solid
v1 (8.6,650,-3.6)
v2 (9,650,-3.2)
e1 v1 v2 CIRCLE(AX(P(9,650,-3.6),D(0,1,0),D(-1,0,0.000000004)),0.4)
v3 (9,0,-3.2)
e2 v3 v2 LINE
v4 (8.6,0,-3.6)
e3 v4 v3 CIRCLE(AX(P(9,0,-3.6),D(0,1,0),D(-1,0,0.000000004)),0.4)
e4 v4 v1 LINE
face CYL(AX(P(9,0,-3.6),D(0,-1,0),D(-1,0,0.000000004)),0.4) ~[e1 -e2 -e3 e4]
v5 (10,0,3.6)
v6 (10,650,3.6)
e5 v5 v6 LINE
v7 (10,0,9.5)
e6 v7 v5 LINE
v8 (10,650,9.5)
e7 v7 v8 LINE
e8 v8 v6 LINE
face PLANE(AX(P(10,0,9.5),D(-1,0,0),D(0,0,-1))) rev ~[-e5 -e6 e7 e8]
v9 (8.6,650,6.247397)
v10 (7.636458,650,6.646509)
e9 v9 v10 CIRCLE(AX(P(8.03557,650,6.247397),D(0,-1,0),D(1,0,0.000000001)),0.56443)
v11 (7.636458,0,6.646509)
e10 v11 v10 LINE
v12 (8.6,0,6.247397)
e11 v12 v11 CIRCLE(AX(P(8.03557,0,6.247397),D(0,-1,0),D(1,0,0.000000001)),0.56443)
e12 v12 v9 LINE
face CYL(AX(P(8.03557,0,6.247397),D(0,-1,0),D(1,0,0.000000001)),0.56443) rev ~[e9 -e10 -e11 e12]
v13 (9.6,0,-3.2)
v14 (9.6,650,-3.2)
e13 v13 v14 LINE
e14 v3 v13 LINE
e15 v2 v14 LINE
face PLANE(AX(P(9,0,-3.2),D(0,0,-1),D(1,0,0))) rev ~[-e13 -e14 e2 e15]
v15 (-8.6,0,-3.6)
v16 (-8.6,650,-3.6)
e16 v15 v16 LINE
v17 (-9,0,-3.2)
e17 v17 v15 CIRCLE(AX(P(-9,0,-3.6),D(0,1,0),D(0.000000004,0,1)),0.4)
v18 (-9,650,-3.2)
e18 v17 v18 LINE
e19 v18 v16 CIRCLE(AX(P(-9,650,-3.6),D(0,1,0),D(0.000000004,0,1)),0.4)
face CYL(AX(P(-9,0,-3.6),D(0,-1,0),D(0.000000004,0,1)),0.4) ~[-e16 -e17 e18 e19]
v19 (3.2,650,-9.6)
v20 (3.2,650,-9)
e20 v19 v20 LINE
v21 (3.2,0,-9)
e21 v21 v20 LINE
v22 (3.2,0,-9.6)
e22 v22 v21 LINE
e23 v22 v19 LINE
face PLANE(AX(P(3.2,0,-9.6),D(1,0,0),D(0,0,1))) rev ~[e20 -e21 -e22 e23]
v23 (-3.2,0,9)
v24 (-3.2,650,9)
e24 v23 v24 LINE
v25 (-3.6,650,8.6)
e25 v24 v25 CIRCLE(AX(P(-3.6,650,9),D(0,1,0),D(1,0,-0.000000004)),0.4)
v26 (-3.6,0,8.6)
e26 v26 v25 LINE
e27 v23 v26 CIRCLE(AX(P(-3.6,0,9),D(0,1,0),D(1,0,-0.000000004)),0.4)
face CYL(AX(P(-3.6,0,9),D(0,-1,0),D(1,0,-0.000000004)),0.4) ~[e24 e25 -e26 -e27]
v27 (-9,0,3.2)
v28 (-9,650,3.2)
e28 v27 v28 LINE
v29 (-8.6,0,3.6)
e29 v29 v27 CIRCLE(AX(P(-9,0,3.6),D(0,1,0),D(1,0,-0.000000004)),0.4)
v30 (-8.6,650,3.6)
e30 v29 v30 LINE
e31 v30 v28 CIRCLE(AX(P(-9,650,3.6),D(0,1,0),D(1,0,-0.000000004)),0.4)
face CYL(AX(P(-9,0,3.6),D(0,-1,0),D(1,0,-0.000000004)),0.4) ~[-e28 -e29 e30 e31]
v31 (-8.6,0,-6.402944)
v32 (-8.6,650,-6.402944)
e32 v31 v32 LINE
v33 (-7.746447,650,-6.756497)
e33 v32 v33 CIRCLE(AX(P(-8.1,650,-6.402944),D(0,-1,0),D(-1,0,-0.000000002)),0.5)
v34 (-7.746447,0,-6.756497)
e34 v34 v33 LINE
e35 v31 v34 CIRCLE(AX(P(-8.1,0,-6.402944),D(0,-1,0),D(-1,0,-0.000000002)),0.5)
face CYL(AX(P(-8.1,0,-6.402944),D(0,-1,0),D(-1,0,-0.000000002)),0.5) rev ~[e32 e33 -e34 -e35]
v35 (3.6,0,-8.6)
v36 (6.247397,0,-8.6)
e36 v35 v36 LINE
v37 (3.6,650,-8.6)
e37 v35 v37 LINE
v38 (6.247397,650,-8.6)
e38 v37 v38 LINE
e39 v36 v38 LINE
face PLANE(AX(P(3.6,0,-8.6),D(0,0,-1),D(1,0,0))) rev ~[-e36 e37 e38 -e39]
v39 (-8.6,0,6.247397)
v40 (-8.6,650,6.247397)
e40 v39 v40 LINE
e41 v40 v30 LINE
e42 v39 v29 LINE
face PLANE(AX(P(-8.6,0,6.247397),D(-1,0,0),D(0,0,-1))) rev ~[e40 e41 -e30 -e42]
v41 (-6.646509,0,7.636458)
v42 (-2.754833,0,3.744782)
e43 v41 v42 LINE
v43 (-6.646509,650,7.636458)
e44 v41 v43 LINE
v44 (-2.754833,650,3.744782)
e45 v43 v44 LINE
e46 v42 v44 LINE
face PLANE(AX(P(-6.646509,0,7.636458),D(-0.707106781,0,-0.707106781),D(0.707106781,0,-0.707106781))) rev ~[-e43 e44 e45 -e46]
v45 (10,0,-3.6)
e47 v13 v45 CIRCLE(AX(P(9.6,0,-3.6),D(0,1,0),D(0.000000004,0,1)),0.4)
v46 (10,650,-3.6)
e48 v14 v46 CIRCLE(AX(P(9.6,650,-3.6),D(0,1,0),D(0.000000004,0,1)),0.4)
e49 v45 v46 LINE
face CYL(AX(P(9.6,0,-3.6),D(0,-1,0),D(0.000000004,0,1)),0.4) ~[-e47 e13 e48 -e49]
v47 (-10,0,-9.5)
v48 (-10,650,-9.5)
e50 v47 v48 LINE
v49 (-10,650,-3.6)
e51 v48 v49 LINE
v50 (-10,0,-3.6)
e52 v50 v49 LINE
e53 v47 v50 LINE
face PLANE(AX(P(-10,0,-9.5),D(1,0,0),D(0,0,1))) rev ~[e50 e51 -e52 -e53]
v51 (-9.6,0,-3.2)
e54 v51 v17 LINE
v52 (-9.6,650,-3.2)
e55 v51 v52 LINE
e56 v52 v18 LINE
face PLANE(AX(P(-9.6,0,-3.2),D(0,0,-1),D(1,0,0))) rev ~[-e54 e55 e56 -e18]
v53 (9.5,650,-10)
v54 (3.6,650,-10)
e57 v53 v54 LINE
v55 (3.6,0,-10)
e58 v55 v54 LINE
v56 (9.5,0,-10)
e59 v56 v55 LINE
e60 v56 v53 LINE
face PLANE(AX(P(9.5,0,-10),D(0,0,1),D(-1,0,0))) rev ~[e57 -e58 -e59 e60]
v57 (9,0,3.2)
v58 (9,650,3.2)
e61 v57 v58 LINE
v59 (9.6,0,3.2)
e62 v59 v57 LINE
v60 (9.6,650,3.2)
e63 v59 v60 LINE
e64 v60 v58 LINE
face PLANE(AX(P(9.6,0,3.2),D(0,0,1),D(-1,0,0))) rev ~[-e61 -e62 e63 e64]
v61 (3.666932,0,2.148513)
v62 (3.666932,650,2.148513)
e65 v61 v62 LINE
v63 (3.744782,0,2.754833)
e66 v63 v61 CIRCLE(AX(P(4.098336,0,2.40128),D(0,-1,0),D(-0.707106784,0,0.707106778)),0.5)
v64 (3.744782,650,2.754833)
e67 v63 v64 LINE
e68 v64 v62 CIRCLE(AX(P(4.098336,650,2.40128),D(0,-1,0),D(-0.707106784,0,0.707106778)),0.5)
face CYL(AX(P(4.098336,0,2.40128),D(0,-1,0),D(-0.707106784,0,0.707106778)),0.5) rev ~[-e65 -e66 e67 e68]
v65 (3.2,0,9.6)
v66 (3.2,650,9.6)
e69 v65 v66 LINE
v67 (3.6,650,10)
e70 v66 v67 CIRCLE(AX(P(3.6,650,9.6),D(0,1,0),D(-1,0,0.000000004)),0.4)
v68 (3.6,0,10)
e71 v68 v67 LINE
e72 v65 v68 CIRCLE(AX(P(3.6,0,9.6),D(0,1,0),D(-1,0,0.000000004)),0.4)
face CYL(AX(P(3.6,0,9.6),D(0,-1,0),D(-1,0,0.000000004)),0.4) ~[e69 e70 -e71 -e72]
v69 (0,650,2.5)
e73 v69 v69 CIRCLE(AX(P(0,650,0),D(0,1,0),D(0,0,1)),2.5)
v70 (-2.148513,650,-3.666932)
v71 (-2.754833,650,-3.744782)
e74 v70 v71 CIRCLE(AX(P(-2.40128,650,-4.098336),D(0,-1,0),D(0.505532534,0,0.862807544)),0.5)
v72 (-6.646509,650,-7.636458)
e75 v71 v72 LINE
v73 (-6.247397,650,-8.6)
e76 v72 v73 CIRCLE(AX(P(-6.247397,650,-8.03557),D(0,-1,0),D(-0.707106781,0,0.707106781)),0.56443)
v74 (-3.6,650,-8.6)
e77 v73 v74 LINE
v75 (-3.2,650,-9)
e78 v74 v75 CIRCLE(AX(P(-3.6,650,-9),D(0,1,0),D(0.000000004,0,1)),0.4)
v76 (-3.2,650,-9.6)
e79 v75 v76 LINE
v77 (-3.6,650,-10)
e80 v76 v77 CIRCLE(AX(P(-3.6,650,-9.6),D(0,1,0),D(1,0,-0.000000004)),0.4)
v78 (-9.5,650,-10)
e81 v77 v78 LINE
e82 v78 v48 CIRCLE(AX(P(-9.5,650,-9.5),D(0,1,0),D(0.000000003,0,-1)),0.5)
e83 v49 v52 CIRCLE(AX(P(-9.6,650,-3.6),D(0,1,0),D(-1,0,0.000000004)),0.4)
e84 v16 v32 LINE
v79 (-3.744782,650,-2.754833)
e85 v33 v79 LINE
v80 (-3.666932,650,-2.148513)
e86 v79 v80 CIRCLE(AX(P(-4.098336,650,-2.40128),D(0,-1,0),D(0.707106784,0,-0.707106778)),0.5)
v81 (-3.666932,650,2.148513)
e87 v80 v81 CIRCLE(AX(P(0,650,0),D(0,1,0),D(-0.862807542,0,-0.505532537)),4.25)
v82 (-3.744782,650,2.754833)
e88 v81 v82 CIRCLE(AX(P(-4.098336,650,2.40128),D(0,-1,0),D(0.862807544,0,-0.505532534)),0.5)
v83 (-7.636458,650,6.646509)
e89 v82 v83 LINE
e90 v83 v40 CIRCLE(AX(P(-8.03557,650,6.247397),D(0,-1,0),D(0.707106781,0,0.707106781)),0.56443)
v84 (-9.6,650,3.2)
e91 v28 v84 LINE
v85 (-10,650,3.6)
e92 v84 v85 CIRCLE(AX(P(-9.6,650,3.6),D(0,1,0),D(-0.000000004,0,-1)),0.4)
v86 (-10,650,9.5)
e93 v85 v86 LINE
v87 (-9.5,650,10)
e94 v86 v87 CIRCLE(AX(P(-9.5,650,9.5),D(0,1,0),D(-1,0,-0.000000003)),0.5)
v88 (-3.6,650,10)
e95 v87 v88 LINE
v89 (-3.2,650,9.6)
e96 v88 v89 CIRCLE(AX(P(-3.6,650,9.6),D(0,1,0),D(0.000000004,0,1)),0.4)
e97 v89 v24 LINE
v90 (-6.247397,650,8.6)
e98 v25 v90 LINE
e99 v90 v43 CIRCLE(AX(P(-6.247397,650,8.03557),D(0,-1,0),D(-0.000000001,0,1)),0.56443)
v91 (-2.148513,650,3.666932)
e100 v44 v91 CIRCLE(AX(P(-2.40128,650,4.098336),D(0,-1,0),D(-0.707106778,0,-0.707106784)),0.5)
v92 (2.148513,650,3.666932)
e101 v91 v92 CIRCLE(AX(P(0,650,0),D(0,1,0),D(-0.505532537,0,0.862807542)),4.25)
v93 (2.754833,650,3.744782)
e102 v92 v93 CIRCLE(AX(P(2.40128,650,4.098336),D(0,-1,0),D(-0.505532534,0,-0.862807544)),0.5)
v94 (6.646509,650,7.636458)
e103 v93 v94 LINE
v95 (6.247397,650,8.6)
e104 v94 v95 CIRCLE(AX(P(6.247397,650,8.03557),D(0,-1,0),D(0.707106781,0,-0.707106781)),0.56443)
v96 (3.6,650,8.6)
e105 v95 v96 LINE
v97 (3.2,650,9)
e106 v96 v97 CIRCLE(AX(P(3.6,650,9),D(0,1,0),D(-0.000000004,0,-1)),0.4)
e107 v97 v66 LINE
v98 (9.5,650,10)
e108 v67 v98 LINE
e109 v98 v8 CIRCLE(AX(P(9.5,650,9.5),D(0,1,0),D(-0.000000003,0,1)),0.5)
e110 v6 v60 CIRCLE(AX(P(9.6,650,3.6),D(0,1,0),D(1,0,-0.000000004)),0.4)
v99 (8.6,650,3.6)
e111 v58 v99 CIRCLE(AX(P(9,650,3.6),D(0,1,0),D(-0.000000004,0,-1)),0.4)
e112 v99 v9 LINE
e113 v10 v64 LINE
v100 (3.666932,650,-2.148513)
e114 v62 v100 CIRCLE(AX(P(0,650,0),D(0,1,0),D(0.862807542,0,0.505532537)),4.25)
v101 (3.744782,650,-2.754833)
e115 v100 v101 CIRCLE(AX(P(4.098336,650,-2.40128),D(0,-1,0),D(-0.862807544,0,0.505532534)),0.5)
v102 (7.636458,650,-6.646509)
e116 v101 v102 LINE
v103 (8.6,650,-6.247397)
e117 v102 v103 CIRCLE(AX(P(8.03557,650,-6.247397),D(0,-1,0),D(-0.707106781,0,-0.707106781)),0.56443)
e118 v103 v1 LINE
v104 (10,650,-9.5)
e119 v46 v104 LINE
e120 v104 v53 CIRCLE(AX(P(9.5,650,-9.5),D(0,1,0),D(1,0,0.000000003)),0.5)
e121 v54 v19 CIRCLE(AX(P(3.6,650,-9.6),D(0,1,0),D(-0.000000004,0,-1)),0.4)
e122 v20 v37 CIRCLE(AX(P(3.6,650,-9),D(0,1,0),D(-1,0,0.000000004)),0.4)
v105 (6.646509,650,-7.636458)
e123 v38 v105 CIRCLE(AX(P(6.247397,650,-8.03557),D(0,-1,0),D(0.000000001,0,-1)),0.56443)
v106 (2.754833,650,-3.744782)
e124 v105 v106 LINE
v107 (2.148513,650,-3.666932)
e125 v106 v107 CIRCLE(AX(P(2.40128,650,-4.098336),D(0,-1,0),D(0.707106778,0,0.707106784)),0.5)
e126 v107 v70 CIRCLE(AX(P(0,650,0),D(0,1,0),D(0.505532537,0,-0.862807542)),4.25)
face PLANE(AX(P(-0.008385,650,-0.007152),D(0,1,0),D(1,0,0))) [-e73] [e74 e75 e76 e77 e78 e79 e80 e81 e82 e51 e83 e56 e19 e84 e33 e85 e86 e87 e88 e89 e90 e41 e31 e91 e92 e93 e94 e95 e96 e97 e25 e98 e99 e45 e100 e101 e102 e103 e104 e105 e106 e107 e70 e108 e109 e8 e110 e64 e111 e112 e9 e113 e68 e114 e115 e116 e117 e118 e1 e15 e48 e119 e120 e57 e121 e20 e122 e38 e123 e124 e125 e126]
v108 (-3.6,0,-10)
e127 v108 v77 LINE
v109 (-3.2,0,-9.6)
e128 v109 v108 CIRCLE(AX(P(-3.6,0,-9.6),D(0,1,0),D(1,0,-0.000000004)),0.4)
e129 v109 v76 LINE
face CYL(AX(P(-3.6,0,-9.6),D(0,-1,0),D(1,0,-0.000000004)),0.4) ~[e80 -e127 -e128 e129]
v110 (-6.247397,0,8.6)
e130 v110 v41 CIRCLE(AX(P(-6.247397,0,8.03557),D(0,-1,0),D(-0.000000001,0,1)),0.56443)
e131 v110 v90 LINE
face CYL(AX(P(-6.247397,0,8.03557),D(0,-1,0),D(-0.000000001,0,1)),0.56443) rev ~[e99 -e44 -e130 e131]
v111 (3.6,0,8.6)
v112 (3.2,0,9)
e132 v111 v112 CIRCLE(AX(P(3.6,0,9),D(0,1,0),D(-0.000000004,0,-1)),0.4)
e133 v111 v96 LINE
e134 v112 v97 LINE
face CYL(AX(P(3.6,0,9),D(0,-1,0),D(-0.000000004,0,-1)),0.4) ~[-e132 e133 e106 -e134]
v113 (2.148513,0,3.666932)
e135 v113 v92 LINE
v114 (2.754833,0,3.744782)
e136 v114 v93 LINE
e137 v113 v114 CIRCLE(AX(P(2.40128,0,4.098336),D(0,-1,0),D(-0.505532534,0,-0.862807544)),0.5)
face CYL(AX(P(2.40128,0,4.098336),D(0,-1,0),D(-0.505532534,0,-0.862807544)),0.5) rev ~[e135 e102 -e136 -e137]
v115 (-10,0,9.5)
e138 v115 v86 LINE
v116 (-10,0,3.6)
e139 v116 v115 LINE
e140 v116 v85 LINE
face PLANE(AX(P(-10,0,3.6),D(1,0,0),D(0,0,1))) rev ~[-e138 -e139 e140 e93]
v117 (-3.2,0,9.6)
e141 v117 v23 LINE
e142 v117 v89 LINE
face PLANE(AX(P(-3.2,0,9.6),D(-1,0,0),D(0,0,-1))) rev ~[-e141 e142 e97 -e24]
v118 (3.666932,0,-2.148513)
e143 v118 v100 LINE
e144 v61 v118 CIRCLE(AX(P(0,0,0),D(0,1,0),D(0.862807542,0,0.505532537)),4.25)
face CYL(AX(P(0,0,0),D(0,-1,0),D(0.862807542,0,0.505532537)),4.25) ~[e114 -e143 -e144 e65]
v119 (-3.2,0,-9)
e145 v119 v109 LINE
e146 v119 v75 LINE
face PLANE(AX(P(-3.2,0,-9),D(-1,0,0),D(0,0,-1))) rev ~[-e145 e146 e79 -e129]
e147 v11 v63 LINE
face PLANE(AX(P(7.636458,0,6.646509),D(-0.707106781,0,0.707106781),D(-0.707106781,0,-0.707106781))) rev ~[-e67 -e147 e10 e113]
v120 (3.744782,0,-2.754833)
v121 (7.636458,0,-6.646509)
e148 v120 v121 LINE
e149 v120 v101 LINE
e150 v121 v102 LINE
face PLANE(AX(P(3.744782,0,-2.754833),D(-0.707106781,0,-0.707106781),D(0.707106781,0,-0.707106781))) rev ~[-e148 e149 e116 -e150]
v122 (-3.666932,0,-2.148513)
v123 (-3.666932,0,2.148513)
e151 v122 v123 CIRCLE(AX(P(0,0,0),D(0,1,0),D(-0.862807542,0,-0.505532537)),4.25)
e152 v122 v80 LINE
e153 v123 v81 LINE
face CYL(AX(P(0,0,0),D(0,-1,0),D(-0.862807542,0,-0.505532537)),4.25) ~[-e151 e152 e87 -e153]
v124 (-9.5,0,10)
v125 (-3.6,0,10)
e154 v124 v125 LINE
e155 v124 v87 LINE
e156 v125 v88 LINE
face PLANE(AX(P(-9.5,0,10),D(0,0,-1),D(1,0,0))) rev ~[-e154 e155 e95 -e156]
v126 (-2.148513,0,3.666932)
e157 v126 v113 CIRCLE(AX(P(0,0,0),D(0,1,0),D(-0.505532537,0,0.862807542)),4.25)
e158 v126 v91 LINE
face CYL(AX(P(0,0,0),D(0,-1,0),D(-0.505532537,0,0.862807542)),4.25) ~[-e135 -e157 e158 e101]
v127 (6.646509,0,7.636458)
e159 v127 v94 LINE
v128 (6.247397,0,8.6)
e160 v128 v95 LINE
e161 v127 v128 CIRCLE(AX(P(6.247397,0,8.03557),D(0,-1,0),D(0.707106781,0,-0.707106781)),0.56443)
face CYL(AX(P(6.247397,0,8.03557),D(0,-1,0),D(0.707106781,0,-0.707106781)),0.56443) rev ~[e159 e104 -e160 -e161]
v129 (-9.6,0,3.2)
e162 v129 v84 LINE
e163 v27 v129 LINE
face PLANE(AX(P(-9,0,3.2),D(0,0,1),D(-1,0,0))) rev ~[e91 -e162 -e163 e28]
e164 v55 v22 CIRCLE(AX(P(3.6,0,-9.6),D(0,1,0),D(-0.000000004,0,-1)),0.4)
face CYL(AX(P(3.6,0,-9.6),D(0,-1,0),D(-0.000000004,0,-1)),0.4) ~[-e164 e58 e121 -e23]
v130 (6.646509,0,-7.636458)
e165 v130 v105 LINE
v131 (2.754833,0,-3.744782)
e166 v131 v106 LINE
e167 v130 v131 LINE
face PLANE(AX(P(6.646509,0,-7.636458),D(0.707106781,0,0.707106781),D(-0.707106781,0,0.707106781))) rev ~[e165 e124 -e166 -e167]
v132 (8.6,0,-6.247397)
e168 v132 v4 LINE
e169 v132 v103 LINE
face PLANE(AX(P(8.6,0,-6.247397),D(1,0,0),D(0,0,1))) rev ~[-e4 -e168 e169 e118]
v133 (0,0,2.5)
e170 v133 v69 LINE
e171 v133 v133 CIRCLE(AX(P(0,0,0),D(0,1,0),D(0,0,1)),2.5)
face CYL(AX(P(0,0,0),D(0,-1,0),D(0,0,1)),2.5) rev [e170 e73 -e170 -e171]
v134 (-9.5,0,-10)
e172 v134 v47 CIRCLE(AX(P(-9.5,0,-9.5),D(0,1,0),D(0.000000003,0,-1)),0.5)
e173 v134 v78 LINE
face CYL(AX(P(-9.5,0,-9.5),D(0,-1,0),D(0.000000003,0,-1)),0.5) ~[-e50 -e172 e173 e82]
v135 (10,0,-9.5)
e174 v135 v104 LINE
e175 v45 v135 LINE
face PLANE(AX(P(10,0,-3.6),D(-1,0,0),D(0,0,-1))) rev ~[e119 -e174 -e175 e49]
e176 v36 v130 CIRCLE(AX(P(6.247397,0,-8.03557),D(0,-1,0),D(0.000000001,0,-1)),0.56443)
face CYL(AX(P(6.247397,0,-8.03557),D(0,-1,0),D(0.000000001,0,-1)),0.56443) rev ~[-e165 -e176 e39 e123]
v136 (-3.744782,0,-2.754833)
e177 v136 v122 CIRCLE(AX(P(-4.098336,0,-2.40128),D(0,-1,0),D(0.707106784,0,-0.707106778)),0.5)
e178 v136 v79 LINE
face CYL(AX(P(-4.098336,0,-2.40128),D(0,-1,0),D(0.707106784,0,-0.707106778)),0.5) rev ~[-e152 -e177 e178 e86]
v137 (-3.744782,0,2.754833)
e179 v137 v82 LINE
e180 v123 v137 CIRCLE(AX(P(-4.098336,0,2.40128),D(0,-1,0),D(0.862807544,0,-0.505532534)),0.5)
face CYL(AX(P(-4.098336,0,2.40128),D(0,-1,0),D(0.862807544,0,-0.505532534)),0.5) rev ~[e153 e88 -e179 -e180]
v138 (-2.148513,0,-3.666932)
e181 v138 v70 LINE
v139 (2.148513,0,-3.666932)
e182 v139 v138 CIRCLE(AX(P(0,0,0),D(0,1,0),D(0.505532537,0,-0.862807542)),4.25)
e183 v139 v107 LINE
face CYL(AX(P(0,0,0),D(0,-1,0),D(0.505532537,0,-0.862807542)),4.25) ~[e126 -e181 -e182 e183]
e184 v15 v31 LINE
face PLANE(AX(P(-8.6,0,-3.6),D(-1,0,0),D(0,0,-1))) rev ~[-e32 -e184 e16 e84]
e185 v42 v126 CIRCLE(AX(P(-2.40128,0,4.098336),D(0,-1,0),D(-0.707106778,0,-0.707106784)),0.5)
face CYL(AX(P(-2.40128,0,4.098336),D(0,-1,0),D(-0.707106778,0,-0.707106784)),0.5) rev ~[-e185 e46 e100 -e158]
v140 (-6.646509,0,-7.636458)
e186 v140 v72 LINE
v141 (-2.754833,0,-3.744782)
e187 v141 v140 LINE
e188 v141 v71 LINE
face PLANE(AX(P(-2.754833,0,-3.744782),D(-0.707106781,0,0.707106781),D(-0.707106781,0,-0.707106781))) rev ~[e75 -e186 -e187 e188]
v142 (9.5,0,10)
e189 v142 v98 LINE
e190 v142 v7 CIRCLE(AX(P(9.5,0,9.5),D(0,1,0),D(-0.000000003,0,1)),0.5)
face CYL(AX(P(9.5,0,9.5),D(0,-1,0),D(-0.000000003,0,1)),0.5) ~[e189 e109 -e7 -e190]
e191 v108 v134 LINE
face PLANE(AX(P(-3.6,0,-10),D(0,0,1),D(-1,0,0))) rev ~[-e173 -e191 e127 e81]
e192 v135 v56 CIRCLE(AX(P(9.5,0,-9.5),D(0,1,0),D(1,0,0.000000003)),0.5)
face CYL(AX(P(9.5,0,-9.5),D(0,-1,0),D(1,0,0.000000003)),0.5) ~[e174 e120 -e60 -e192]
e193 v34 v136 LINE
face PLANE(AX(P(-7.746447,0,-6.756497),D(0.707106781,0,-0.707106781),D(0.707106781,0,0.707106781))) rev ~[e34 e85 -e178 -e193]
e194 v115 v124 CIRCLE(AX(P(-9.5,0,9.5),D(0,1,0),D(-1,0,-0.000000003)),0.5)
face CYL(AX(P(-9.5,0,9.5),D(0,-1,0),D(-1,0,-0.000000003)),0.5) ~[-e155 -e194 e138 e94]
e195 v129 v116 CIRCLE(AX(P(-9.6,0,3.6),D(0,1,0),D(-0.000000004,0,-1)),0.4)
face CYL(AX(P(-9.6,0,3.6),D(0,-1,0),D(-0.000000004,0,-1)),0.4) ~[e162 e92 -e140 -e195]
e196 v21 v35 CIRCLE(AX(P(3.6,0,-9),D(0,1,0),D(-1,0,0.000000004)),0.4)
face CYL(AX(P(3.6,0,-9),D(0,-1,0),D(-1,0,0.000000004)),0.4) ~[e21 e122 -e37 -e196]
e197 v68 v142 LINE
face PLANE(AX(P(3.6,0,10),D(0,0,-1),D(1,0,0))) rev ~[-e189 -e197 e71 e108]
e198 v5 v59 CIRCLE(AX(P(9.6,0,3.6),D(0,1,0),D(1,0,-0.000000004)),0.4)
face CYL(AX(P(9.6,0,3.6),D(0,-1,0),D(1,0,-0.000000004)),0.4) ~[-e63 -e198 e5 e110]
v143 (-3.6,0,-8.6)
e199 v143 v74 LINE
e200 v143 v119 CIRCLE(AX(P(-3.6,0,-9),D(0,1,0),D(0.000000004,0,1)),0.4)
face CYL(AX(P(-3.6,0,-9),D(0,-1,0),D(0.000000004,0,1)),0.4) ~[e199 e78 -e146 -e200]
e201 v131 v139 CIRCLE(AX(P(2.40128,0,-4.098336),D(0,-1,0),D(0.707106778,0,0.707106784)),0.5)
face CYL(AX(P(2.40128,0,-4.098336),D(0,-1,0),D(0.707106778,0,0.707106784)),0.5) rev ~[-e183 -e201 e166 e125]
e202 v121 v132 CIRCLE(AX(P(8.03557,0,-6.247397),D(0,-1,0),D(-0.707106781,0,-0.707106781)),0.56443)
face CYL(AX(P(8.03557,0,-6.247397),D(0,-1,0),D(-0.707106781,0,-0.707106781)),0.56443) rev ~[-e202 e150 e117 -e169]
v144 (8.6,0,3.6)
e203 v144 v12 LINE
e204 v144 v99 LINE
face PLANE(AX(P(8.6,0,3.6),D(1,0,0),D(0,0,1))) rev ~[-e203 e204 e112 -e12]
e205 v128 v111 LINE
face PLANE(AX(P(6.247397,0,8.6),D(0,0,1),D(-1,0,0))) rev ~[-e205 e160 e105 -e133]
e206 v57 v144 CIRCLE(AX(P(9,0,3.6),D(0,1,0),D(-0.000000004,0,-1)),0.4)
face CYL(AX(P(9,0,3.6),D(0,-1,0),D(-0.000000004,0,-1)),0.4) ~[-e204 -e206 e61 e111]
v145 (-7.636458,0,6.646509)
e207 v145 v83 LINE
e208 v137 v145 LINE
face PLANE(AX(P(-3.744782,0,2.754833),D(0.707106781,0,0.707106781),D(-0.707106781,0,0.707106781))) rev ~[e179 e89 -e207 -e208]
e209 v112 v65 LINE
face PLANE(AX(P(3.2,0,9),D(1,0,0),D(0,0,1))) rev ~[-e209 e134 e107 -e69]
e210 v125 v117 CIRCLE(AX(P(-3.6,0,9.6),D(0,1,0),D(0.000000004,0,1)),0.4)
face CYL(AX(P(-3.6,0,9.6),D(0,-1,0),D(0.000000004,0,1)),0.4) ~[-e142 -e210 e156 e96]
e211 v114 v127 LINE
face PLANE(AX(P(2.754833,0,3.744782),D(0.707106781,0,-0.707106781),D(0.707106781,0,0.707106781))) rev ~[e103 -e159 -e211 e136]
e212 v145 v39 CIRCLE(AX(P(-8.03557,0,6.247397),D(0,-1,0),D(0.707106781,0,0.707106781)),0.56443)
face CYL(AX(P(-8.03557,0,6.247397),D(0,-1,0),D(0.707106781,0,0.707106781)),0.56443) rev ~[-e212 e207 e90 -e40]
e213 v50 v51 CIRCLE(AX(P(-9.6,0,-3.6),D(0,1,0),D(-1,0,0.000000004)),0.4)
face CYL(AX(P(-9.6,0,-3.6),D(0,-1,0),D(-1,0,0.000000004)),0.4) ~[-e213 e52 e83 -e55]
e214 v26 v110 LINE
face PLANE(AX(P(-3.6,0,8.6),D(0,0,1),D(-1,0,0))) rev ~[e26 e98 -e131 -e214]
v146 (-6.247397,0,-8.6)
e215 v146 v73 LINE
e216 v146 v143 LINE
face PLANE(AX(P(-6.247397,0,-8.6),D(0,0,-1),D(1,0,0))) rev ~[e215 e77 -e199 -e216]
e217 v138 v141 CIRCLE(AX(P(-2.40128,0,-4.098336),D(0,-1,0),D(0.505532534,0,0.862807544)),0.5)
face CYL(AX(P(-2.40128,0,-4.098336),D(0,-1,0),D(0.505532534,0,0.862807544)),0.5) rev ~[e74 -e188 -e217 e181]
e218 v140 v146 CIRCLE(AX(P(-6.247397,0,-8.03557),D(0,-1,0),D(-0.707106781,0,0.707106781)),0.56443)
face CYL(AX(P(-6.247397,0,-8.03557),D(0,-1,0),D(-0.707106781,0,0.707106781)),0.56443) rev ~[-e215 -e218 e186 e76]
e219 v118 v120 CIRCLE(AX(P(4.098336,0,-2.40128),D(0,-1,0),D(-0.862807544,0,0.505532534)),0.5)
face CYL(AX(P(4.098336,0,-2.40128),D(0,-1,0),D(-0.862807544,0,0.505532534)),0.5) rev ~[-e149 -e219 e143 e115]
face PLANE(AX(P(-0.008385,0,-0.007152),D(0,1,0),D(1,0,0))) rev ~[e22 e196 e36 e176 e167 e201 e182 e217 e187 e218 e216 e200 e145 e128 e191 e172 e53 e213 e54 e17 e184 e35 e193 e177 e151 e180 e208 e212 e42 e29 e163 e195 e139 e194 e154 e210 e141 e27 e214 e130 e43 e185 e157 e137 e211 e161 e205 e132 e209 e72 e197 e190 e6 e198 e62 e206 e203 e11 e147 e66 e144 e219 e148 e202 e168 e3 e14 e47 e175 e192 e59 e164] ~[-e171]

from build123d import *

# Parameters (mm, degrees)
SKETCH1_R           = 2.5
BOSS_EXTRUDE1_DEPTH = 650


with BuildPart() as part:
    # Sketch1 → Boss-Extrude1 (new body)
    with BuildSketch(Plane(origin=(0, 0, 0), x_dir=(1, 0, 0), z_dir=(0, 1, 0))):
        with BuildLine():
            Line((-6.247396549, 8.6), (-3.6, 8.6))
            ThreePointArc((-3.6, 8.6), (-3.317157288, 8.717157288), (-3.2, 9))
            Line((-3.2, 9), (-3.2, 9.6))
            ThreePointArc((-3.2, 9.6), (-3.317157288, 9.882842712), (-3.6, 10))
            Line((-3.6, 10), (-9.5, 10))
            ThreePointArc((-9.5, 10), (-9.853553391, 9.853553391), (-10, 9.5))
            Line((-10, 9.5), (-10, 3.6))
            ThreePointArc((-10, 3.6), (-9.882842712, 3.317157288), (-9.6, 3.2))
            Line((-9.6, 3.2), (-9, 3.2))
            ThreePointArc((-9, 3.2), (-8.717157288, 3.317157288), (-8.6, 3.6))
            Line((-8.6, 3.6), (-8.6, 6.402943725))
            ThreePointArc((-8.6, 6.402943725), (-8.291341716, 6.864883491), (-7.746446609, 6.756497116))
            Line((-7.746446609, 6.756497116), (-3.744782433, 2.75483294))
            ThreePointArc((-3.744782433, 2.75483294), (-3.602407081, 2.46495593), (-3.666932053, 2.148513281))
            ThreePointArc((-3.666932053, 2.148513281), (-4.25, 0), (-3.666932053, -2.148513281))
            ThreePointArc((-3.666932053, -2.148513281), (-3.602407081, -2.46495593), (-3.744782433, -2.75483294))
            Line((-3.744782433, -2.75483294), (-7.636458146, -6.646508652))
            ThreePointArc((-7.636458146, -6.646508652), (-8.251568164, -6.768861642), (-8.6, -6.247396549))
            Line((-8.6, -6.247396549), (-8.6, -3.6))
            ThreePointArc((-8.6, -3.6), (-8.717157288, -3.317157288), (-9, -3.2))
            Line((-9, -3.2), (-9.6, -3.2))
            ThreePointArc((-9.6, -3.2), (-9.882842712, -3.317157288), (-10, -3.6))
            Line((-10, -3.6), (-10, -9.5))
            ThreePointArc((-10, -9.5), (-9.853553391, -9.853553391), (-9.5, -10))
            Line((-9.5, -10), (-3.6, -10))
            ThreePointArc((-3.6, -10), (-3.317157288, -9.882842712), (-3.2, -9.6))
            Line((-3.2, -9.6), (-3.2, -9))
            ThreePointArc((-3.2, -9), (-3.317157288, -8.717157288), (-3.6, -8.6))
            Line((-3.6, -8.6), (-6.247396549, -8.6))
            ThreePointArc((-6.247396549, -8.6), (-6.768861642, -8.251568164), (-6.646508652, -7.636458146))
            Line((-6.646508652, -7.636458146), (-2.75483294, -3.744782433))
            ThreePointArc((-2.75483294, -3.744782433), (-2.46495593, -3.602407081), (-2.148513281, -3.666932053))
            ThreePointArc((-2.148513281, -3.666932053), (0, -4.25), (2.148513281, -3.666932053))
            ThreePointArc((2.148513281, -3.666932053), (2.46495593, -3.602407081), (2.75483294, -3.744782433))
            Line((2.75483294, -3.744782433), (6.646508652, -7.636458146))
            ThreePointArc((6.646508652, -7.636458146), (6.768861642, -8.251568164), (6.247396549, -8.6))
            Line((6.247396549, -8.6), (3.6, -8.6))
            ThreePointArc((3.6, -8.6), (3.317157288, -8.717157288), (3.2, -9))
            Line((3.2, -9), (3.2, -9.6))
            ThreePointArc((3.2, -9.6), (3.317157288, -9.882842712), (3.6, -10))
            Line((3.6, -10), (9.5, -10))
            ThreePointArc((9.5, -10), (9.853553391, -9.853553391), (10, -9.5))
            Line((10, -9.5), (10, -3.6))
            ThreePointArc((10, -3.6), (9.882842712, -3.317157288), (9.6, -3.2))
            Line((9.6, -3.2), (9, -3.2))
            ThreePointArc((9, -3.2), (8.717157288, -3.317157288), (8.6, -3.6))
            Line((8.6, -3.6), (8.6, -6.247396549))
            ThreePointArc((8.6, -6.247396549), (8.251568164, -6.768861642), (7.636458146, -6.646508652))
            Line((7.636458146, -6.646508652), (3.744782433, -2.75483294))
            ThreePointArc((3.744782433, -2.75483294), (3.602407081, -2.46495593), (3.666932053, -2.148513281))
            ThreePointArc((3.666932053, -2.148513281), (4.25, 0), (3.666932053, 2.148513281))
            ThreePointArc((3.666932053, 2.148513281), (3.602407081, 2.46495593), (3.744782433, 2.75483294))
            Line((3.744782433, 2.75483294), (7.636458146, 6.646508652))
            ThreePointArc((7.636458146, 6.646508652), (8.251568164, 6.768861642), (8.6, 6.247396549))
            Line((8.6, 6.247396549), (8.6, 3.6))
            ThreePointArc((8.6, 3.6), (8.717157288, 3.317157288), (9, 3.2))
            Line((9, 3.2), (9.6, 3.2))
            ThreePointArc((9.6, 3.2), (9.882842712, 3.317157288), (10, 3.6))
            Line((10, 3.6), (10, 9.5))
            ThreePointArc((10, 9.5), (9.853553391, 9.853553391), (9.5, 10))
            Line((9.5, 10), (3.6, 10))
            ThreePointArc((3.6, 10), (3.317157288, 9.882842712), (3.2, 9.6))
            Line((3.2, 9.6), (3.2, 9))
            ThreePointArc((3.2, 9), (3.317157288, 8.717157288), (3.6, 8.6))
            Line((3.6, 8.6), (6.247396549, 8.6))
            ThreePointArc((6.247396549, 8.6), (6.768861642, 8.251568164), (6.646508652, 7.636458146))
            Line((6.646508652, 7.636458146), (2.75483294, 3.744782433))
            ThreePointArc((2.75483294, 3.744782433), (2.46495593, 3.602407081), (2.148513281, 3.666932053))
            ThreePointArc((2.148513281, 3.666932053), (0, 4.25), (-2.148513281, 3.666932053))
            ThreePointArc((-2.148513281, 3.666932053), (-2.46495593, 3.602407081), (-2.75483294, 3.744782433))
            Line((-2.75483294, 3.744782433), (-6.646508652, 7.636458146))
            ThreePointArc((-6.646508652, 7.636458146), (-6.768861642, 8.251568164), (-6.247396549, 8.6))
        make_face()
        with Locations(Location((0, 0, 0), (0, 0, 270))):
            Circle(SKETCH1_R, mode=Mode.SUBTRACT)
    extrude(amount=BOSS_EXTRUDE1_DEPTH)


solid = part.part
